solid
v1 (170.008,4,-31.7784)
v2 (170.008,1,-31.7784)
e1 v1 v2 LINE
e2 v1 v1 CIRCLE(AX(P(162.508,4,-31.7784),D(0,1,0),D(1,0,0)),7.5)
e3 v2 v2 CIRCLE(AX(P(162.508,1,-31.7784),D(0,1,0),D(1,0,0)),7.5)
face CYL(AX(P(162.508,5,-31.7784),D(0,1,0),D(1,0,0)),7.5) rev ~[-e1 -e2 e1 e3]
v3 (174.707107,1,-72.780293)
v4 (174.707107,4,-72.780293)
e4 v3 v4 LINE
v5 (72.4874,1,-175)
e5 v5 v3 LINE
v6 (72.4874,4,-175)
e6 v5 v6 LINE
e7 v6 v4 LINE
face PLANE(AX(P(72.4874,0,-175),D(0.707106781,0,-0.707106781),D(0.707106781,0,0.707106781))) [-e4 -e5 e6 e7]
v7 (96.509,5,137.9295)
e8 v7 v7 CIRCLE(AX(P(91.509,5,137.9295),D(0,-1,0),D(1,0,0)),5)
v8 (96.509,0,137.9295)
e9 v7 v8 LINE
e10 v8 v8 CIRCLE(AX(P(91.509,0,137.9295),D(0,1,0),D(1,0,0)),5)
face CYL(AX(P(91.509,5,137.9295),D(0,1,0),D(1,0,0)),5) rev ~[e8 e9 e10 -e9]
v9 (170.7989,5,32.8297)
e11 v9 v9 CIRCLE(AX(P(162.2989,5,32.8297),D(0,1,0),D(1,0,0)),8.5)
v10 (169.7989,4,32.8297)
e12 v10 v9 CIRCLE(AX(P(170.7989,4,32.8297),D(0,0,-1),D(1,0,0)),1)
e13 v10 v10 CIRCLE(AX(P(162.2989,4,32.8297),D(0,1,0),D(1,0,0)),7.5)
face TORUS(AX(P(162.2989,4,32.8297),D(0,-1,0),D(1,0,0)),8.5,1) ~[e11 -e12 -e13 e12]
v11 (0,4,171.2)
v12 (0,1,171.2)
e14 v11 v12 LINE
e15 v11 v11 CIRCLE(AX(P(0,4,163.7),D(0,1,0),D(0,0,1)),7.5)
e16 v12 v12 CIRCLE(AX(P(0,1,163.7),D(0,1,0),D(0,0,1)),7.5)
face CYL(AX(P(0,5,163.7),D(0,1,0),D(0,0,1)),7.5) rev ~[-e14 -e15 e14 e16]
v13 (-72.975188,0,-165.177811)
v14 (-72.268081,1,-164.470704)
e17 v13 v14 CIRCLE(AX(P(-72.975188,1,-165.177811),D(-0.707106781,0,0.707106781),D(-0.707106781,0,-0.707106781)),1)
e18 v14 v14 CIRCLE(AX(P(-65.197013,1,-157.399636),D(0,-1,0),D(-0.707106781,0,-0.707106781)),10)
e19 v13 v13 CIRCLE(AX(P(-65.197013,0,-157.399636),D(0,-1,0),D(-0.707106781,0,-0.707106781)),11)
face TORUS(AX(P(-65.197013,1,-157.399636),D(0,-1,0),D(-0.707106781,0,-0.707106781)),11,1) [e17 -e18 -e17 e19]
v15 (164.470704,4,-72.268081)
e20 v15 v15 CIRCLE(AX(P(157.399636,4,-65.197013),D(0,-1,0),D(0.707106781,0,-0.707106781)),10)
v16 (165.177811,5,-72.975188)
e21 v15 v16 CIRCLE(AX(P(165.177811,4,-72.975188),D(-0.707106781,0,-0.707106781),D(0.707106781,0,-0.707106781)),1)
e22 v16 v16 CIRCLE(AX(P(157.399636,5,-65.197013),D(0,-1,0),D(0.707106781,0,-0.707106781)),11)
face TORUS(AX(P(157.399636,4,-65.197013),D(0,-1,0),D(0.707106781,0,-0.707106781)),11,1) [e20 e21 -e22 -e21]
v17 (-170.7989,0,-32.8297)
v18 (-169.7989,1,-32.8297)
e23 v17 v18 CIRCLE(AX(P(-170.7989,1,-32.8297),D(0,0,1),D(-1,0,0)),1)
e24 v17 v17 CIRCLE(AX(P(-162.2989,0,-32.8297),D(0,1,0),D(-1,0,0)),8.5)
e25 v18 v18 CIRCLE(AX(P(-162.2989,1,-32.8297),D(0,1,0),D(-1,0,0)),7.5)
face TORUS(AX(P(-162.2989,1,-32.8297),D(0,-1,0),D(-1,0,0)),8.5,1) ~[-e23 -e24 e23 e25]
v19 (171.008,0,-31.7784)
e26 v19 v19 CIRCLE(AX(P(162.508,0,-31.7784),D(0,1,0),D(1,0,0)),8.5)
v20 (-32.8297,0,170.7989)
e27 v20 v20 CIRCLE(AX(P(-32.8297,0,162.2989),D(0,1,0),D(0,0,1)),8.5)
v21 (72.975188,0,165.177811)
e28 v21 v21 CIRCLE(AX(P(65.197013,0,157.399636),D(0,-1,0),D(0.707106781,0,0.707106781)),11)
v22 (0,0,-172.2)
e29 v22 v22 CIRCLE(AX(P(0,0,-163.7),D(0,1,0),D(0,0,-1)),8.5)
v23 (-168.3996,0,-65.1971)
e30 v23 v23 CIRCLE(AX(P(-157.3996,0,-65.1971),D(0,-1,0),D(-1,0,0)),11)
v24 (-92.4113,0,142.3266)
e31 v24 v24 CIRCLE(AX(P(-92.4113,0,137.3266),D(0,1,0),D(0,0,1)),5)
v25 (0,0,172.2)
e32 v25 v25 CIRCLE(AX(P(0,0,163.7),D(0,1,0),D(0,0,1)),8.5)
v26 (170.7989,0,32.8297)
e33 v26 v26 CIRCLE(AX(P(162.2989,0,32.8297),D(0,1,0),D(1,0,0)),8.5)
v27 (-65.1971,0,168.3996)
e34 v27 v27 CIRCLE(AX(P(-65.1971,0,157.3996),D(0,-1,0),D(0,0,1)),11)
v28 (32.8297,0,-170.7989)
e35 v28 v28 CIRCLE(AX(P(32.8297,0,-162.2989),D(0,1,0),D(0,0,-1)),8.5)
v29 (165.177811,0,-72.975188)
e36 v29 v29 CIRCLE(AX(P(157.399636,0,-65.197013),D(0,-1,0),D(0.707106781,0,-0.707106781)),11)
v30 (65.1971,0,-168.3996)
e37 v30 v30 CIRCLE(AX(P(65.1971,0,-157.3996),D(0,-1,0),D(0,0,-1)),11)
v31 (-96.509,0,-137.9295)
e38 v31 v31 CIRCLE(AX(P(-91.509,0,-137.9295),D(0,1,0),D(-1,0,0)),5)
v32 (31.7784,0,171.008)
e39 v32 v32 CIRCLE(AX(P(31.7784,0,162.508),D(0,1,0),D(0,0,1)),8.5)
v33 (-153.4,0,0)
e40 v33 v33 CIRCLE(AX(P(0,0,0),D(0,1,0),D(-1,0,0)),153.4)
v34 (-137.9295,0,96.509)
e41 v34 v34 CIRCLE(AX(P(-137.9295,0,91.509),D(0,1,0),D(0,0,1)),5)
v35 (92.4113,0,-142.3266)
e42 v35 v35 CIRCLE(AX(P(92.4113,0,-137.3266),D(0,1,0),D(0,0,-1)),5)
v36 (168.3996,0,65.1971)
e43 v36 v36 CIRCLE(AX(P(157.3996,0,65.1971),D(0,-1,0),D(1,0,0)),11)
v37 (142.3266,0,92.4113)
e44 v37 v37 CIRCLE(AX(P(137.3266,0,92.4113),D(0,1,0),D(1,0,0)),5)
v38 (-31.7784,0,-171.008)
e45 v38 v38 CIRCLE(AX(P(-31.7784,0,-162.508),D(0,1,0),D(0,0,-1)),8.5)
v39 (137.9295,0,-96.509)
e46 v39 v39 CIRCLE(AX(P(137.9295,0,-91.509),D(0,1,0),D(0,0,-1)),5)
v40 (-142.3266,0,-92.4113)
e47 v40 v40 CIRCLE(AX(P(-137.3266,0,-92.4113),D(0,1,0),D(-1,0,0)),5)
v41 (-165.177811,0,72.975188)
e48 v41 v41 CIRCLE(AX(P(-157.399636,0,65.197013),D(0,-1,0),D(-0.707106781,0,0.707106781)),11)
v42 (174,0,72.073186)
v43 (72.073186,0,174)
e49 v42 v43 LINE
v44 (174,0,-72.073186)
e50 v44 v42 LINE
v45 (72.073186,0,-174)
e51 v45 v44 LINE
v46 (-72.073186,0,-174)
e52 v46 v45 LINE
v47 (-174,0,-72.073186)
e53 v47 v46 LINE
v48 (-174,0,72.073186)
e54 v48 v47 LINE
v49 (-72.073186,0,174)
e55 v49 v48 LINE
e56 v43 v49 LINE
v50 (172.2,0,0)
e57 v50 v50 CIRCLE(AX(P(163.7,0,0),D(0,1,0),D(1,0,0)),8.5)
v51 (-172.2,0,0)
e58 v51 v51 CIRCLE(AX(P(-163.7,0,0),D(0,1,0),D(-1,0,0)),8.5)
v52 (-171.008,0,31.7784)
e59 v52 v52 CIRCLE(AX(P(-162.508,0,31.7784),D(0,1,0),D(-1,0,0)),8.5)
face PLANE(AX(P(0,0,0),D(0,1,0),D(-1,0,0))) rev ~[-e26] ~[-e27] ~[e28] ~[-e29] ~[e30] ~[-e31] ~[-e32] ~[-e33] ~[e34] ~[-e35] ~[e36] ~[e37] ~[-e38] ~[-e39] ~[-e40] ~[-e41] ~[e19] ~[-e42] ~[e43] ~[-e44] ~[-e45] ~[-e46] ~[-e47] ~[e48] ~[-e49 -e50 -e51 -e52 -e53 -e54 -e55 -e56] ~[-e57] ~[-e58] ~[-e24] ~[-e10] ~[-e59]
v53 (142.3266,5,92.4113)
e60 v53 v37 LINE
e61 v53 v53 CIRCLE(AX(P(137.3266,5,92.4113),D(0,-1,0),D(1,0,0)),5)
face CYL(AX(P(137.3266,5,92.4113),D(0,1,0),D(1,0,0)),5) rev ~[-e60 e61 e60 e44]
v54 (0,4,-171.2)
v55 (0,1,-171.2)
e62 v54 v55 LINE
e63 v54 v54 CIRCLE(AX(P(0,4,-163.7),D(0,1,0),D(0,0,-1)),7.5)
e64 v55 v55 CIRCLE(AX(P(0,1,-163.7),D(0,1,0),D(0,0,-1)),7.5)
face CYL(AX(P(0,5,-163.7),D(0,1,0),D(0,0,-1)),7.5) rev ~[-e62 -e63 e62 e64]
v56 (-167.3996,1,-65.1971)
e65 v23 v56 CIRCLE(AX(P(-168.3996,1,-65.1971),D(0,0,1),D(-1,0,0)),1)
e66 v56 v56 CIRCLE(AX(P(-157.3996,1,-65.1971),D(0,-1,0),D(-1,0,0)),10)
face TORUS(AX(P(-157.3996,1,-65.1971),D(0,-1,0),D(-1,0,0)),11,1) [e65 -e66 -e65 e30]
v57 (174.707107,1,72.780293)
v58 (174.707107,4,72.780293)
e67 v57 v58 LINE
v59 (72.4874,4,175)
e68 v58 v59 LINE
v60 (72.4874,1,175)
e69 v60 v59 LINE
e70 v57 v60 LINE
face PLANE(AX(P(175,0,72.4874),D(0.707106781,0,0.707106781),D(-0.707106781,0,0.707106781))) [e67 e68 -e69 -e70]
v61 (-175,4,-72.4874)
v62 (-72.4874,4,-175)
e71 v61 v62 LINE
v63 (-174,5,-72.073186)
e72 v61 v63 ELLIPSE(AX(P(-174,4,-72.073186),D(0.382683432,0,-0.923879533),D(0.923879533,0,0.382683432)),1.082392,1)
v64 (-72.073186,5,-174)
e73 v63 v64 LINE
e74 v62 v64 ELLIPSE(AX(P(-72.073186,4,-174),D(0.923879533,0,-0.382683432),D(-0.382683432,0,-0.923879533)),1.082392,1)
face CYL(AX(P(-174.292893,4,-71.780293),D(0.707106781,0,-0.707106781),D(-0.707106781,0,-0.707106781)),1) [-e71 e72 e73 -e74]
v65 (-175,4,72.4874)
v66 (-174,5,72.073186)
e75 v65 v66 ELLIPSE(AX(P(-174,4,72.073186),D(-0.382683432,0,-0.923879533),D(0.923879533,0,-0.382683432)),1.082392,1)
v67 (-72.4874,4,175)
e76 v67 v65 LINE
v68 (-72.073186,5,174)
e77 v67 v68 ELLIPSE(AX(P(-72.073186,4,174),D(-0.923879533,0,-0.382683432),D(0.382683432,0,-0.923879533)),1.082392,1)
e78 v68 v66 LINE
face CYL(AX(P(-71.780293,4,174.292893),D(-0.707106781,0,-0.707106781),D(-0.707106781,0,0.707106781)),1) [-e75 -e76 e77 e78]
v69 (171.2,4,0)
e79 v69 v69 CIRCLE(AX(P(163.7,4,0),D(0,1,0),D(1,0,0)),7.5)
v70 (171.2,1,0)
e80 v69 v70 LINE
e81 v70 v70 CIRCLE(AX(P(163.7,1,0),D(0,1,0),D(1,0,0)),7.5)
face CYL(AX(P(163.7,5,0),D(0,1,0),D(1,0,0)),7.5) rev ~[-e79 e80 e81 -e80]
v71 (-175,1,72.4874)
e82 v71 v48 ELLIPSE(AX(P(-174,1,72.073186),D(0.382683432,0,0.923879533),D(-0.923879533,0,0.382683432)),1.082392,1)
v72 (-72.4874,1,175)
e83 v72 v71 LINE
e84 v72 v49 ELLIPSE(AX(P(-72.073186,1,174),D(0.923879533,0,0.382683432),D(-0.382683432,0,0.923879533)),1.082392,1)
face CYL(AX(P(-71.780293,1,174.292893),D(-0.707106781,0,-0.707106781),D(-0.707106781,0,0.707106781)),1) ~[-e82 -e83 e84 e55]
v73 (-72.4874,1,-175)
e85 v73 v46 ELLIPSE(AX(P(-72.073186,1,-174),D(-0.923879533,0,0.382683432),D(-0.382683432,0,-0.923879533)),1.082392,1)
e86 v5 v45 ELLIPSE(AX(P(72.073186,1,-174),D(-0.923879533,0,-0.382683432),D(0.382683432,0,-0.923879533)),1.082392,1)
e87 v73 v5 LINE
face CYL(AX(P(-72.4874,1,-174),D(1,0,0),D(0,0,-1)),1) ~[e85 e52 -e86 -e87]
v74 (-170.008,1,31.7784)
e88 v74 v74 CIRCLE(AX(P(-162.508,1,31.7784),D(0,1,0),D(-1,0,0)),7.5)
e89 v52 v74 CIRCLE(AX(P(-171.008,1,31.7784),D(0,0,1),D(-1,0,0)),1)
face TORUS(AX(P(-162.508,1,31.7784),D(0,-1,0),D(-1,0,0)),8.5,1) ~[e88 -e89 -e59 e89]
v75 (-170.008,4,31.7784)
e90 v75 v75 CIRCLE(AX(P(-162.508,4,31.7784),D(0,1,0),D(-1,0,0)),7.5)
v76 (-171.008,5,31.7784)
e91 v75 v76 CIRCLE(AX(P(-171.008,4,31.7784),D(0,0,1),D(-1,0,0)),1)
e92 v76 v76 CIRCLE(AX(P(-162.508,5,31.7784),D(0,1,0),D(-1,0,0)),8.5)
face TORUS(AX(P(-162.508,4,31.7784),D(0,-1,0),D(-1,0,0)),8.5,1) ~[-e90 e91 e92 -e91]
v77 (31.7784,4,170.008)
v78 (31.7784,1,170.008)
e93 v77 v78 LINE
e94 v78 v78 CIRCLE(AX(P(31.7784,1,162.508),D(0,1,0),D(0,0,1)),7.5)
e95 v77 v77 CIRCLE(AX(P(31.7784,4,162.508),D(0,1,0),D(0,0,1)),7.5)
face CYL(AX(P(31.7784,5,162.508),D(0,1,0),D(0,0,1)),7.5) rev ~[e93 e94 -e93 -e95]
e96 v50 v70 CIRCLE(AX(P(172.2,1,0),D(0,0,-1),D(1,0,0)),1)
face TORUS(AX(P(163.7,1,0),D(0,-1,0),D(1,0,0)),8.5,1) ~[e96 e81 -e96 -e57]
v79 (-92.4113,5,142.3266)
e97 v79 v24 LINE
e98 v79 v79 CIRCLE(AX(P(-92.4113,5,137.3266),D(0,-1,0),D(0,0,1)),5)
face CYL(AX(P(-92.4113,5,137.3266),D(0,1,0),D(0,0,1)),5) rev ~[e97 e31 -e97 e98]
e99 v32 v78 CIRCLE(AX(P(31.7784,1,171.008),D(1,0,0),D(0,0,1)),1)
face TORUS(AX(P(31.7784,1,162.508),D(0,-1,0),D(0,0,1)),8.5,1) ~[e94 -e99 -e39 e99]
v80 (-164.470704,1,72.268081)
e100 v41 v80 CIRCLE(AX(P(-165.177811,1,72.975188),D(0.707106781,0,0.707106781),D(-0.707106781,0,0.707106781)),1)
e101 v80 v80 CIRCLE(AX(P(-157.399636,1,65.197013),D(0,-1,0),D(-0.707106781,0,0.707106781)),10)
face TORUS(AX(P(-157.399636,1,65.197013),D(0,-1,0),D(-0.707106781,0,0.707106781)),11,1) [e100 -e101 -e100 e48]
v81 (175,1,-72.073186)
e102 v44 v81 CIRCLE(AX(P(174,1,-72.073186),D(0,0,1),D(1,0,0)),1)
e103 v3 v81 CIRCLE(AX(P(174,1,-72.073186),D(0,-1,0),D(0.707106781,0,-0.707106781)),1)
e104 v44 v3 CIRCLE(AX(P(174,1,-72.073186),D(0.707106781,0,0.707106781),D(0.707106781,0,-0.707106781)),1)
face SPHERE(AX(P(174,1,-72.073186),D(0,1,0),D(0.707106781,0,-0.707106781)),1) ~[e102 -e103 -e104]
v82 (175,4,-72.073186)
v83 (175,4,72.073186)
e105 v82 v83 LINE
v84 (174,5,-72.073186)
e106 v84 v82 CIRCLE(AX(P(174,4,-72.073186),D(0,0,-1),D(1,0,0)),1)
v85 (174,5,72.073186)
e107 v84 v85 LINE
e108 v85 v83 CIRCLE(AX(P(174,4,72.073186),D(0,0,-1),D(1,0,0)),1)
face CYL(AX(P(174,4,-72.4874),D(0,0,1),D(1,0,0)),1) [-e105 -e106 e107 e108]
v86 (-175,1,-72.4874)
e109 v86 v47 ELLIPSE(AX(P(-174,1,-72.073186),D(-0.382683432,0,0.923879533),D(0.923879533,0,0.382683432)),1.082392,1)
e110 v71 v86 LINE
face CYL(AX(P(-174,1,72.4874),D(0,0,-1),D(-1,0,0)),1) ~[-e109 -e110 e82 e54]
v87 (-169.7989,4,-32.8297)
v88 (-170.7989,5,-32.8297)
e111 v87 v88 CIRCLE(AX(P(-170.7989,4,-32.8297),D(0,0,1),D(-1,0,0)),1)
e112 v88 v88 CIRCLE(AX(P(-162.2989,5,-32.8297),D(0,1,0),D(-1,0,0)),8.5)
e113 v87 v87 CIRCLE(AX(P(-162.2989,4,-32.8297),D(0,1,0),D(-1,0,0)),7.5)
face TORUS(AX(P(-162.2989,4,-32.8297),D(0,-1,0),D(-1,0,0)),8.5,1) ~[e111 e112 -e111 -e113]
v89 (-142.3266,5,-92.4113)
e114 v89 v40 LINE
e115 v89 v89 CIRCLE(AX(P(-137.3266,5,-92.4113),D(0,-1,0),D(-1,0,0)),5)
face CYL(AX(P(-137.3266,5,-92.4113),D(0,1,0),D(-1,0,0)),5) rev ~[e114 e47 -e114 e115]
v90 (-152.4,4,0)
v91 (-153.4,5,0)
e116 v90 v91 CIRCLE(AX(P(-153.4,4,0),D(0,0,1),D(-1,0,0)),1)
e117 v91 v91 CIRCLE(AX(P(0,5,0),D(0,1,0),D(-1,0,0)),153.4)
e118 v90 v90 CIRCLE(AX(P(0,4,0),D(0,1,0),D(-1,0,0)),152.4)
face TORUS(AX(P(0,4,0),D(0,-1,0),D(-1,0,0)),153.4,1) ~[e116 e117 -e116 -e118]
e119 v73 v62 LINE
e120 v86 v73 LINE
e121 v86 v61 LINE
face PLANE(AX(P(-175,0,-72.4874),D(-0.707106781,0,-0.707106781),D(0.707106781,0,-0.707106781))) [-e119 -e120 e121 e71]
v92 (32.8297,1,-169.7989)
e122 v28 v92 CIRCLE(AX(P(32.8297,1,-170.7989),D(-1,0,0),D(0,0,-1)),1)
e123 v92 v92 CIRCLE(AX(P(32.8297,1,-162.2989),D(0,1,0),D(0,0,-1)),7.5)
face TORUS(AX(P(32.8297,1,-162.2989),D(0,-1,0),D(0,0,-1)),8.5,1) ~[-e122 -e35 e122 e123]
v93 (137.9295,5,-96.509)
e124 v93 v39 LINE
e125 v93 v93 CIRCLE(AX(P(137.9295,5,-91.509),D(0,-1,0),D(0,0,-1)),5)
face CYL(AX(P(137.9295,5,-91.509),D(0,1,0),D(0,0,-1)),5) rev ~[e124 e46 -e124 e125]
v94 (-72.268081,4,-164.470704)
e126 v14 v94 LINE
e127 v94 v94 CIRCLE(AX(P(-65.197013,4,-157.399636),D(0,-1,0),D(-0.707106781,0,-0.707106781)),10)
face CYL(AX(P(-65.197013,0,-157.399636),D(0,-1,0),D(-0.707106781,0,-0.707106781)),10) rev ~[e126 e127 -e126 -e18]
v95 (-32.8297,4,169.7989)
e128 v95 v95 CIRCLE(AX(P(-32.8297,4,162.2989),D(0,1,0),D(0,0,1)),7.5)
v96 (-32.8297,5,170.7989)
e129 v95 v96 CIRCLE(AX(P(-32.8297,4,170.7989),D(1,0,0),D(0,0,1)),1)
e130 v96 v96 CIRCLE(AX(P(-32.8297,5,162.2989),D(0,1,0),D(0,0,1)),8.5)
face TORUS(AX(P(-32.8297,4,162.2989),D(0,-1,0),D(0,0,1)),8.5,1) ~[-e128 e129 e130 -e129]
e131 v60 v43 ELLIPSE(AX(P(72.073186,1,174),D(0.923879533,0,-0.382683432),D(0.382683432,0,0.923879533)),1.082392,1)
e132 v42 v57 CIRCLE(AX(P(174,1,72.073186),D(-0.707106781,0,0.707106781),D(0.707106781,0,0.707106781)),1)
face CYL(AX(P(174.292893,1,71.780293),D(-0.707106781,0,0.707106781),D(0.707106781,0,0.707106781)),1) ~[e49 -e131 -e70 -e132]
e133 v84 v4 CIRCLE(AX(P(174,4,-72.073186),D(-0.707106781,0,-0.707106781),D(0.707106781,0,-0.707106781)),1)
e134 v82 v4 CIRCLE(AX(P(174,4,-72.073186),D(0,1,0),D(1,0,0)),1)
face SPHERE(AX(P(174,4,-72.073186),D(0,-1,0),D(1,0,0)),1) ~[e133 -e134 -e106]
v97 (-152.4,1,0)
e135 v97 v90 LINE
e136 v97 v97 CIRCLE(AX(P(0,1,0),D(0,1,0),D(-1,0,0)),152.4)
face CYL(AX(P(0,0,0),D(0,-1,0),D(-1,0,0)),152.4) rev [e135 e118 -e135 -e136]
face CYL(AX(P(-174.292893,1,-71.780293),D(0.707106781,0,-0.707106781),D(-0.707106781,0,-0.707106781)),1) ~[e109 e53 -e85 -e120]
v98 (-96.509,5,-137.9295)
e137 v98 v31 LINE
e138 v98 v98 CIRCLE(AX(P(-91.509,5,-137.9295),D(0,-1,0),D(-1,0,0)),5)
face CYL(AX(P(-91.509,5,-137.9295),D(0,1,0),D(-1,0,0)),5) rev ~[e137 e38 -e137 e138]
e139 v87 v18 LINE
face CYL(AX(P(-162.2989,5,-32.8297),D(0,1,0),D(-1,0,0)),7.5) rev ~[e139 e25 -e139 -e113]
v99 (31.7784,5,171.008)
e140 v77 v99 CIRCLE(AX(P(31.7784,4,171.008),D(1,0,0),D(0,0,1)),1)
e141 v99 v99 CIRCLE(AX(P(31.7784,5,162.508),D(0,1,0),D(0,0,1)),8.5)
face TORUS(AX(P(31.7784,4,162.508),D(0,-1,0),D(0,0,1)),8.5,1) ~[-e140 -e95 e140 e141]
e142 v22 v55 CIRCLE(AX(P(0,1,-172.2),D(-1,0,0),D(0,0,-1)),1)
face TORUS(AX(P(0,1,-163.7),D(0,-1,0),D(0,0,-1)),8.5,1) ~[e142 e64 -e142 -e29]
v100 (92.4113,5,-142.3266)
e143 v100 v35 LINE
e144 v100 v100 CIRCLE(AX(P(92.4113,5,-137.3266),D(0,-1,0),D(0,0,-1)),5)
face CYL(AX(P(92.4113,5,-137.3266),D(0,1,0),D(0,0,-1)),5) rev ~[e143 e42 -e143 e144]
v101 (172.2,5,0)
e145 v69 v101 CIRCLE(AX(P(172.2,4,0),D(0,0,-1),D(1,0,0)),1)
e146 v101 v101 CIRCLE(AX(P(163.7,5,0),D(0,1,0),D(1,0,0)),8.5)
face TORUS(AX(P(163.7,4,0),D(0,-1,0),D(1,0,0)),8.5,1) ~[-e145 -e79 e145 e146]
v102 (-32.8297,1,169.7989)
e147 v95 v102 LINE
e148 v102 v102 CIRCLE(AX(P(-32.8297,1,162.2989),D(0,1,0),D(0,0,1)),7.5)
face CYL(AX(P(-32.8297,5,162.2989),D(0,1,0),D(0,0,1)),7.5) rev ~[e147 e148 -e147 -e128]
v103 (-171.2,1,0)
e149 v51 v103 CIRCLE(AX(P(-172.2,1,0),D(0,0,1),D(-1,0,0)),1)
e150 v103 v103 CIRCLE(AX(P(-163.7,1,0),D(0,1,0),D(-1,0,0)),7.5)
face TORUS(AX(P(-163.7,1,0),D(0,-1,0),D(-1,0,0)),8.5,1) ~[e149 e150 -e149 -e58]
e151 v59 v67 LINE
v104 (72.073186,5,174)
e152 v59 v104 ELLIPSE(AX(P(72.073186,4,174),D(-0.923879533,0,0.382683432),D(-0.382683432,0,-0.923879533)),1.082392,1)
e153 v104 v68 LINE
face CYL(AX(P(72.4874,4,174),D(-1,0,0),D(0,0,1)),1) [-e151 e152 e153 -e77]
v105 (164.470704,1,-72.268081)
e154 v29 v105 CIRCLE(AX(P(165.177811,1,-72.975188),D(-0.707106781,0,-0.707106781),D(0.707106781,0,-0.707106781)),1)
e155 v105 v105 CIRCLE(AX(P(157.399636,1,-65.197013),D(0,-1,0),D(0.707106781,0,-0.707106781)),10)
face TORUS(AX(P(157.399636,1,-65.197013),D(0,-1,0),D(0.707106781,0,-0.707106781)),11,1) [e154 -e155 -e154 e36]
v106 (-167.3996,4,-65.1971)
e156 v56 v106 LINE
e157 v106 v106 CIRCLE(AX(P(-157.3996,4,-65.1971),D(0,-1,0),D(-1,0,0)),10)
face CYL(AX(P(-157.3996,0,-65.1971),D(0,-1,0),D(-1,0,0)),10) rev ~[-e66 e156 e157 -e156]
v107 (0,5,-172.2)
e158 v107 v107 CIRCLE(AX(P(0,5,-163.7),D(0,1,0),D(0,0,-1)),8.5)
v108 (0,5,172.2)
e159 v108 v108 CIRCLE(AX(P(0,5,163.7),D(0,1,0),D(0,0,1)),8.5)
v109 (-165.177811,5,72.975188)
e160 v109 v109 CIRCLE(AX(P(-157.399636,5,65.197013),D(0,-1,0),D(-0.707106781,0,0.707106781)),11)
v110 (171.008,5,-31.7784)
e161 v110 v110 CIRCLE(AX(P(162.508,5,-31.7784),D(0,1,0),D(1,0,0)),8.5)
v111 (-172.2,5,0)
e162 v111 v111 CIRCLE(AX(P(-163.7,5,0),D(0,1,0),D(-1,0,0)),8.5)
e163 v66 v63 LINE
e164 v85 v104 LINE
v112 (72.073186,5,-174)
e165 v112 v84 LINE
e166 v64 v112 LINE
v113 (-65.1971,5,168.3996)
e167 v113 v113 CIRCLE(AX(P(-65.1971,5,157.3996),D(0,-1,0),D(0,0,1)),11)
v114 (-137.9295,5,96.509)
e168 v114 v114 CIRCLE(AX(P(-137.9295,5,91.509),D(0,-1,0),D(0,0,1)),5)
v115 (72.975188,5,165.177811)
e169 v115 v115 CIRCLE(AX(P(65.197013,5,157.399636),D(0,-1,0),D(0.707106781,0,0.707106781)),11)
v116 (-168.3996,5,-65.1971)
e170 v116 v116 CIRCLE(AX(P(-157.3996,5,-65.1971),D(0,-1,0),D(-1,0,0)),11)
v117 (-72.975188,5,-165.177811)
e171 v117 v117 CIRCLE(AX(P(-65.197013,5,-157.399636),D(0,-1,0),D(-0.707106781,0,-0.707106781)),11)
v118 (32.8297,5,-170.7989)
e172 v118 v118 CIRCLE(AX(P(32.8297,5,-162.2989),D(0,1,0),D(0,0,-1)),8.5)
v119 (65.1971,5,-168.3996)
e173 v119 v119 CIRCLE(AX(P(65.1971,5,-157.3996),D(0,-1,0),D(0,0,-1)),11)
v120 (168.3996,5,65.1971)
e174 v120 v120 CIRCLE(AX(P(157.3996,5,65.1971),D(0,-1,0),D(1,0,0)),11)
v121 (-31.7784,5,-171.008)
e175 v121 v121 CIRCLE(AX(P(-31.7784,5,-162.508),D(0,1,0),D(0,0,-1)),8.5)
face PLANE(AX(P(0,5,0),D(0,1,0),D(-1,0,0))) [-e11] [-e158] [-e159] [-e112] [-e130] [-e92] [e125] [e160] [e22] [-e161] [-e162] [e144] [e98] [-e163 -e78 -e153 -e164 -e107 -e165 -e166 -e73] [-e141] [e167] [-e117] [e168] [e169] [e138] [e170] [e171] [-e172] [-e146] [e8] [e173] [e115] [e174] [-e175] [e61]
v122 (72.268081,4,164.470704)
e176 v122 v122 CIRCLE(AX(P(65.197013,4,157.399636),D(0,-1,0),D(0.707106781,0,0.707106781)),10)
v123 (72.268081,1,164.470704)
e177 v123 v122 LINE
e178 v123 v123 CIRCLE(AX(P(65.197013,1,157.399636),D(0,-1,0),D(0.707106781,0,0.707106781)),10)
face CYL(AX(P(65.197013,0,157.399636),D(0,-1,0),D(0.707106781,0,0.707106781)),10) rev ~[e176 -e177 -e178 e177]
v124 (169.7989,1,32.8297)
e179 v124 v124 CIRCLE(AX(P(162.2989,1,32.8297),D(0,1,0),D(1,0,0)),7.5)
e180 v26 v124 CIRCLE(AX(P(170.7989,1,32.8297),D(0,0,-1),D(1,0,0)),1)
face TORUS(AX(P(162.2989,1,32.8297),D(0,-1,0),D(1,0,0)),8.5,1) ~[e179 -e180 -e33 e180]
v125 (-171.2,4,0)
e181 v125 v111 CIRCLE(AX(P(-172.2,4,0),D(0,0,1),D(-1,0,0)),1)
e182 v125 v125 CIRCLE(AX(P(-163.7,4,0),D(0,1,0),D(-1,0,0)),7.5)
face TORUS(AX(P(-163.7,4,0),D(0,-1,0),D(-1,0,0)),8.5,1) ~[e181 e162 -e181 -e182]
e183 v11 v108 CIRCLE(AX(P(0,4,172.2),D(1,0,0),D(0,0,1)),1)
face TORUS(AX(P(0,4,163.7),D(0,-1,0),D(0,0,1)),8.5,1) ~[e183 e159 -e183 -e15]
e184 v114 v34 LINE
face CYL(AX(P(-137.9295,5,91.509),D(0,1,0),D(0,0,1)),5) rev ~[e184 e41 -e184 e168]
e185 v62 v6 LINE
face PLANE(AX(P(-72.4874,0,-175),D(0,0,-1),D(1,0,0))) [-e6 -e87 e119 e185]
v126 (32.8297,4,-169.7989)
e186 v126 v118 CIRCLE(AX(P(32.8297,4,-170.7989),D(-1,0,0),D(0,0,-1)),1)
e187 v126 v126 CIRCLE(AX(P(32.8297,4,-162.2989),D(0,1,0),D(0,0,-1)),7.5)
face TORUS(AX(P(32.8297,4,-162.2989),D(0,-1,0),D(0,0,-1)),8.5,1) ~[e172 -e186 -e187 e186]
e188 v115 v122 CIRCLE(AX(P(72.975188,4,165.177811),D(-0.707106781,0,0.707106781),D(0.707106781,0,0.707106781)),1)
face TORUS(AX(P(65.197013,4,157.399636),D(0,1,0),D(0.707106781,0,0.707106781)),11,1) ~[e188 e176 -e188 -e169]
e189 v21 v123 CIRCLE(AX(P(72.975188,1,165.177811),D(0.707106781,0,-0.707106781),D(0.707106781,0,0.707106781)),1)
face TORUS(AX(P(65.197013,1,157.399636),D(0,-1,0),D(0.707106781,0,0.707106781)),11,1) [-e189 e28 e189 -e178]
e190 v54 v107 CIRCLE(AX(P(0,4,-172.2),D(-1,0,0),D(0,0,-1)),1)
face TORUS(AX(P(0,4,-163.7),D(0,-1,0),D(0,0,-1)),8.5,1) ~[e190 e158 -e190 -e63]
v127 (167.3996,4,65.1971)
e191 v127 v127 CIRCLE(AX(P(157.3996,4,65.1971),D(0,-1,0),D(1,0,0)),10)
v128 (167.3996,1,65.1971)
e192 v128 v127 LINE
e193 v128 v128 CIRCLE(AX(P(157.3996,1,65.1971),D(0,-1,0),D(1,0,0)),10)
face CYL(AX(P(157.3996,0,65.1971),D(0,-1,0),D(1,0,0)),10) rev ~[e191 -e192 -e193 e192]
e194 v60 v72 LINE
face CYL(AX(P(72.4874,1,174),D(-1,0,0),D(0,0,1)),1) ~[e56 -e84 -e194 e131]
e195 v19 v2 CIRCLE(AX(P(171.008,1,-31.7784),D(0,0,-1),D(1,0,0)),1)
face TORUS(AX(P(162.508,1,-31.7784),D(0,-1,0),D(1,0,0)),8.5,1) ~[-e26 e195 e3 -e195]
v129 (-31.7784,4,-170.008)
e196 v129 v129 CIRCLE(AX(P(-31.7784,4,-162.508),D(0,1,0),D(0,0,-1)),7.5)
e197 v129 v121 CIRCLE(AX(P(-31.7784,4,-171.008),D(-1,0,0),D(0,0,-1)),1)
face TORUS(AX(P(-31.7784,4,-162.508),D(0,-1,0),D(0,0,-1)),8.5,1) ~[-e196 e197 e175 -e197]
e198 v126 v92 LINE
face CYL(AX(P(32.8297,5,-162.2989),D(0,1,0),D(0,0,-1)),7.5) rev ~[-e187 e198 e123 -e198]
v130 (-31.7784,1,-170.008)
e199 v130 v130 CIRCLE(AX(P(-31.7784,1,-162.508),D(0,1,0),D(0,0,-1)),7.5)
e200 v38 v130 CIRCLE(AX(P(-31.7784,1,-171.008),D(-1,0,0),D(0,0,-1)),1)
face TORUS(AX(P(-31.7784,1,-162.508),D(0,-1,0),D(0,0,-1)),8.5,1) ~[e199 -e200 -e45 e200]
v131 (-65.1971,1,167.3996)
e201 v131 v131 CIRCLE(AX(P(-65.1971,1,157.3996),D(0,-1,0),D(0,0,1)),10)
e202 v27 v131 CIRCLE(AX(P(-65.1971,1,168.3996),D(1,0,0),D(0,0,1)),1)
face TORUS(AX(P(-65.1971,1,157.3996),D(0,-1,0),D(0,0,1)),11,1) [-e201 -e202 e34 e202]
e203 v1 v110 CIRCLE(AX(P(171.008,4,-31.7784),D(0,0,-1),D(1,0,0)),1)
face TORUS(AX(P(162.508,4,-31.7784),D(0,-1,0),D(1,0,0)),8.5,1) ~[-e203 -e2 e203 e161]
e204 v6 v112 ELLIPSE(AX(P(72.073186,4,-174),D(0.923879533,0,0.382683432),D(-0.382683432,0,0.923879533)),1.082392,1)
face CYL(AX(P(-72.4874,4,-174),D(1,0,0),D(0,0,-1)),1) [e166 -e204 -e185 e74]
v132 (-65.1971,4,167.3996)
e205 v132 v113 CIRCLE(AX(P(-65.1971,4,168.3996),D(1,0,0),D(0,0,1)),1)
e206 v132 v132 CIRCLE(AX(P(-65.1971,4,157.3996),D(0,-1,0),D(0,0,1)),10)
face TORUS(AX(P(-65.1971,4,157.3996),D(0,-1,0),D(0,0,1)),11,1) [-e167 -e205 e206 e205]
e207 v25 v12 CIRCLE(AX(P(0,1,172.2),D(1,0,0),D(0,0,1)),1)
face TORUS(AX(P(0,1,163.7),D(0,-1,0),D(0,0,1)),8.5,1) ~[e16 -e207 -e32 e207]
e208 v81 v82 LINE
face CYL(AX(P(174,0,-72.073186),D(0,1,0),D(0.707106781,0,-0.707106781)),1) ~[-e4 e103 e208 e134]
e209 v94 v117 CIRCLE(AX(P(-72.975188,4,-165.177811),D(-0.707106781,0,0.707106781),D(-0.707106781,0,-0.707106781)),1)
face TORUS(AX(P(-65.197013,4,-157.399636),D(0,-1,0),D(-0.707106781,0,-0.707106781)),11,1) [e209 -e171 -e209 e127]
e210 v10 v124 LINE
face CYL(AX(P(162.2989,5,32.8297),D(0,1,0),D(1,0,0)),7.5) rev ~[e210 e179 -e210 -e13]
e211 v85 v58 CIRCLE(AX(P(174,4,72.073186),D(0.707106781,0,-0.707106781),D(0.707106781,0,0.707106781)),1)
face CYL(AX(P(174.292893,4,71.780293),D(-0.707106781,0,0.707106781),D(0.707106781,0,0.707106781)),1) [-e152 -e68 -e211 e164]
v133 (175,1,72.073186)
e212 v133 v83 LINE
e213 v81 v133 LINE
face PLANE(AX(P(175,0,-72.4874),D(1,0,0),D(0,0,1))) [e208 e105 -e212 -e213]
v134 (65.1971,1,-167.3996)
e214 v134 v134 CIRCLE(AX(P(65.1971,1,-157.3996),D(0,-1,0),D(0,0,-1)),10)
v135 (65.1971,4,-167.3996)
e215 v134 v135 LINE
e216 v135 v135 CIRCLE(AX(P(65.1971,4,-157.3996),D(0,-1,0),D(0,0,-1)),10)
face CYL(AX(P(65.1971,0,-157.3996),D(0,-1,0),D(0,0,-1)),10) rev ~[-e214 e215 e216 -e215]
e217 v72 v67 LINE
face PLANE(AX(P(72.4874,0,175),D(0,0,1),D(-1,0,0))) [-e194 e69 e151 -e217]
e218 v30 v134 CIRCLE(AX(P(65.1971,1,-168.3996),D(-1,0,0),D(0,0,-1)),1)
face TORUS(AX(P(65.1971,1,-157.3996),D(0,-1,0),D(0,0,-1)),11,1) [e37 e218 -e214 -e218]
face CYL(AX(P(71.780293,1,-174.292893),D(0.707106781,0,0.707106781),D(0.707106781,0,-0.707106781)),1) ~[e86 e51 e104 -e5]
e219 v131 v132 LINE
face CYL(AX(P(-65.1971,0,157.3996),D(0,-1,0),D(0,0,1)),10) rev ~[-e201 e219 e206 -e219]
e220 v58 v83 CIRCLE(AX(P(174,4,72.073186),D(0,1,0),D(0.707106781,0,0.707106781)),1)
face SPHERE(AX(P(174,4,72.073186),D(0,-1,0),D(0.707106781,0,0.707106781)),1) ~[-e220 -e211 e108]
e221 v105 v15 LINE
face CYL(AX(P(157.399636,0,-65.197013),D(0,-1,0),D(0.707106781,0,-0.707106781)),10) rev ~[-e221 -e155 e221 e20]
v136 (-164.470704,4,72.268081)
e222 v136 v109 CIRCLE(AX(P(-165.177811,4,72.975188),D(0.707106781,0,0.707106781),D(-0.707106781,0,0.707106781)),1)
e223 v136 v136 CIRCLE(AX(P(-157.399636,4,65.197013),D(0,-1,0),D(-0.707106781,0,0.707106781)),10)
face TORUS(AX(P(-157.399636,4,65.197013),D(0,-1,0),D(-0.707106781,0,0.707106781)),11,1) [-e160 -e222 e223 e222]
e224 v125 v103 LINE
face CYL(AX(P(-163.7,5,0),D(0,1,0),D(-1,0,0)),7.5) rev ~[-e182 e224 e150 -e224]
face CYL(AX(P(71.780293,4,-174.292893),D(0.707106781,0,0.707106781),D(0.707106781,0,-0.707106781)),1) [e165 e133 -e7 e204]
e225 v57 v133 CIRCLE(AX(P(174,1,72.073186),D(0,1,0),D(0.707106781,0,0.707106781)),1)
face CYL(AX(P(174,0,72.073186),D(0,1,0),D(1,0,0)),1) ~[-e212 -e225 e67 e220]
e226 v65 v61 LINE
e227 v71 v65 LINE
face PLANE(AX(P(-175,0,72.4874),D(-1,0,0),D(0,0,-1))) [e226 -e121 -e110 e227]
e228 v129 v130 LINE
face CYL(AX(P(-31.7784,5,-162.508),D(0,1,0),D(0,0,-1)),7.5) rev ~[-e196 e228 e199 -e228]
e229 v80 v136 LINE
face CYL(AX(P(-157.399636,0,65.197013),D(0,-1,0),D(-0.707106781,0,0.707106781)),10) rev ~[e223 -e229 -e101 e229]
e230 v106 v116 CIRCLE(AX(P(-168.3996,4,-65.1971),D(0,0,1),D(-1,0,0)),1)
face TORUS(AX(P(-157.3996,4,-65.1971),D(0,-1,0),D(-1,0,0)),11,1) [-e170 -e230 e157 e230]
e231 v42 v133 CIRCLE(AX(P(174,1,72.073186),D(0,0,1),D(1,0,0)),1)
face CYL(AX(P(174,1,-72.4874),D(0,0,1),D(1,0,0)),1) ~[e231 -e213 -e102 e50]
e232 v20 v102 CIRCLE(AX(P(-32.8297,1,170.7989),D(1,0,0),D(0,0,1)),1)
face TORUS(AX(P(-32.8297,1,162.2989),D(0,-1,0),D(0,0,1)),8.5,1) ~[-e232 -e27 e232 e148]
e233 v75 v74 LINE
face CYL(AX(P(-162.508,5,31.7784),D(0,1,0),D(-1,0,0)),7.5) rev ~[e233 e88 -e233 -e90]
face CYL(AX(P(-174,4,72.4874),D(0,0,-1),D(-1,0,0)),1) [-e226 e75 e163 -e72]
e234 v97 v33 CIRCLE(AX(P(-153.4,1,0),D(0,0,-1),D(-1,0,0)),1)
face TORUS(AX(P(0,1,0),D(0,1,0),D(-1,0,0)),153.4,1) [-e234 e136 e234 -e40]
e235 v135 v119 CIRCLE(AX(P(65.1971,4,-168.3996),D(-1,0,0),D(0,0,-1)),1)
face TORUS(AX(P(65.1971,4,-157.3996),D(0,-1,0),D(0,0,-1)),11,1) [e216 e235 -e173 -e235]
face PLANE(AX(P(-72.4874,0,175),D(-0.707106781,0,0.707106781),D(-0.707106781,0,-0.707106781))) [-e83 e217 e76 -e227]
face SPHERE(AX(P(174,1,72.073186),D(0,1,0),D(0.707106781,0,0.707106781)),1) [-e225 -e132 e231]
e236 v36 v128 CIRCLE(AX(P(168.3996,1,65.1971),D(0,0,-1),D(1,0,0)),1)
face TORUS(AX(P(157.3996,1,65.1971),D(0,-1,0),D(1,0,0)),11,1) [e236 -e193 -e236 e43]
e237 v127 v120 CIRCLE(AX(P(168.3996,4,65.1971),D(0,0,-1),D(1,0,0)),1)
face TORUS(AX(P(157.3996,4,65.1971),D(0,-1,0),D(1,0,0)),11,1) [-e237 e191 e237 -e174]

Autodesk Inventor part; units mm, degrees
ref_plane "YZ Plane" through (0, 0, 0) normal (1, 0, 0) x (0, 1, 0)
ref_plane "XZ Plane" through (0, 0, 0) normal (0, 1, 0) x (-1, 0, 0)
ref_plane "XY Plane" through (0, 0, 0) normal (0, 0, 1) x (1, 0, 0)
sketch "Sketch1" plane through (0, 0, 0) normal (0, 1, 0) x (-1, 0, 0)
  line L0 (-72.4874, -175) -> (-175, -72.4874)
  line L1 (-175, -72.4874) -> (-175, 72.4874)
  line L2 (-175, 72.4874) -> (-72.4874, 175)
  line L3 (-72.4874, 175) -> (72.4874, 175)
  line L4 (72.4874, 175) -> (175, 72.4874)
  line L5 (175, 72.4874) -> (175, -72.4874)
  line L6 (175, -72.4874) -> (72.4874, -175)
  line L7 (72.4874, -175) -> (-72.4874, -175)
  circle A0 centre (0, 0) radius 152.4
  point P0 (0, 175)
  point P1 (0, -175)
  dimension "d0" = 350
  dimension "d1" = 304.8
extrude "Extrusion1" add sketch "Sketch1" along normal blind 5
fillet "Fillet1" radius 1 20 edges at (-123.7437, 5, -123.7437) (-175, 5, 0) (-123.7437, 5, 123.7437) (0, 5, 175) (123.7437, 5, 123.7437) (175, 5, 0) (123.7437, 5, -123.7437) (0, 5, -175) (175, 0, 0) (175, 2.5, -72.4874) (175, 2.5, 72.4874) (-123.7437, 0, -123.7437) (0, 0, -175) (123.7437, 0, -123.7437) (123.7437, 0, 123.7437) (0, 0, 175) (-123.7437, 0, 123.7437) (-175, 0, 0) (152.4, 5, 0) (152.4, 0, 0)
sketch "Sketch2" plane through (0, 0, 0) normal (0, -1, 0) x (1, 0, 0)
  point P0 (0, 0)
sketch "Sketch3" plane through (0, 0, 0) normal (0, -1, 0) x (1, 0, 0)
  line L0 (174, 72.0732) -> (72.0732, 174) projected
  circle A0 centre (0, 0) radius 152.4 projected
  line L1 (174, -72.0732) -> (174, 72.0732) projected
  circle A1 centre (157.3996, 65.1971) radius 10
  dimension "d5" = 20
extrude "Extrusion2" cut sketch "Sketch3" against normal blind 5 contours A1
pattern_circular "Circular Pattern1" count 8 over 360 about axis through (0, -10, 0) along (0, 1, 0) of "Extrusion2"
fillet "Fillet2" radius 1 2 edges at (58.126, 5, 150.3286) (58.126, 0, 150.3286)
pattern_circular "Circular Pattern2" count 8 over 360 about axis through (0, -10, 0) along (0, 1, 0) of "Fillet2"
sketch "Sketch5" plane through (0, 5, 0) normal (0, 1, 0) x (1, 0, 0)
  line L0 (175, -72.0732) -> (174, -72.0732) projected
  line L1 (174, -72.0732) -> (141.7231, -58.7036)
  circle A0 centre (0, 0) radius 153.4 projected
  line L2 (174, 72.0732) -> (141.7231, 58.7036)
  circle A1 centre (157.3996, 65.1971) radius 11 projected
  circle A2 centre (162.2989, -32.8297) radius 7.5
  circle A3 centre (163.7, 0) radius 7.5
  circle A4 centre (162.508, 31.7784) radius 7.5
  circle A5 centre (32.8297, 162.2989) radius 7.5
  circle A6 centre (0, 163.7) radius 7.5
  circle A7 centre (-31.7784, 162.508) radius 7.5
  circle A8 centre (-162.2989, 32.8297) radius 7.5
  circle A9 centre (-163.7, 0) radius 7.5
  circle A10 centre (-162.508, -31.7784) radius 7.5
  circle A11 centre (-32.8297, -162.2989) radius 7.5
  circle A12 centre (0, -163.7) radius 7.5
  circle A13 centre (31.7784, -162.508) radius 7.5
  dimension "d22" = 45
  dimension "d24" = 15
  dimension "d25" = 15
  dimension "d28" = 22.5
  dimension "d32" = 360
extrude "Extrusion3" cut sketch "Sketch5" against normal blind 5 contours A2 | A3 | A4
pattern_circular "Circular Pattern3" count 4 over 360 about axis through (0, -10, 0) along (0, 1, 0) of "Extrusion3"
fillet "Fillet3" radius 1 6 edges at (-155.008, 5, 31.7784) (-155.008, 0, 31.7784) (-156.2, 0, 0) (-154.7989, 0, -32.8297) (-156.2, 5, 0) (-154.7989, 5, -32.8297)
pattern_circular "Circular Pattern4" count 4 over 360 about axis through (0, -10, 0) along (0, 1, 0) of "Fillet3"
sketch "Sketch7" plane through (0, 5, 0) normal (0, 1, 0) x (1, 0, 0)
  line L0 (174, -72.0732) -> (72.0732, -174) projected
  line L1 (72.0732, -174) -> (58.7036, -141.7231)
  circle A0 centre (0, 0) radius 153.4 projected
  line L2 (174, -72.0732) -> (141.7231, -58.7036)
  circle A1 centre (163.7, 0) radius 8.5 projected
  circle A2 centre (163.7, 0) radius 7.5 projected
  line L3 (171.2, 0) -> (156.2, 0)
  line L4 (121.0567, -121.0567) -> (110.4501, -110.4501)
  arc A3 (65.3884, -157.8616) -> (87.6514, -141.1105) centre (-145.2272, 145.2272) ccw
  circle A4 centre (91.509, -137.9295) radius 5
  circle A5 centre (137.3266, -92.4113) radius 5
  arc A6 (95.3231, -134.6965) -> (115.7534, -115.7534) centre (-145.2272, 145.2272) ccw
  arc A7 (115.7534, -115.7534) -> (133.9937, -96.1385) centre (-145.2272, 145.2272) ccw
  arc A8 (140.4274, -88.4889) -> (157.8616, -65.3884) centre (-145.2272, 145.2272) ccw
  dimension "d45" = 45
  dimension "d47" = 10
  dimension "d50" = 22.5
extrude "Extrusion4" cut sketch "Sketch7" against normal blind 5 contours A5 | A4
pattern_circular "Circular Pattern5" count 4 over 360 about axis through (0, -10, 0) along (0, 1, 0) of "Extrusion4"
